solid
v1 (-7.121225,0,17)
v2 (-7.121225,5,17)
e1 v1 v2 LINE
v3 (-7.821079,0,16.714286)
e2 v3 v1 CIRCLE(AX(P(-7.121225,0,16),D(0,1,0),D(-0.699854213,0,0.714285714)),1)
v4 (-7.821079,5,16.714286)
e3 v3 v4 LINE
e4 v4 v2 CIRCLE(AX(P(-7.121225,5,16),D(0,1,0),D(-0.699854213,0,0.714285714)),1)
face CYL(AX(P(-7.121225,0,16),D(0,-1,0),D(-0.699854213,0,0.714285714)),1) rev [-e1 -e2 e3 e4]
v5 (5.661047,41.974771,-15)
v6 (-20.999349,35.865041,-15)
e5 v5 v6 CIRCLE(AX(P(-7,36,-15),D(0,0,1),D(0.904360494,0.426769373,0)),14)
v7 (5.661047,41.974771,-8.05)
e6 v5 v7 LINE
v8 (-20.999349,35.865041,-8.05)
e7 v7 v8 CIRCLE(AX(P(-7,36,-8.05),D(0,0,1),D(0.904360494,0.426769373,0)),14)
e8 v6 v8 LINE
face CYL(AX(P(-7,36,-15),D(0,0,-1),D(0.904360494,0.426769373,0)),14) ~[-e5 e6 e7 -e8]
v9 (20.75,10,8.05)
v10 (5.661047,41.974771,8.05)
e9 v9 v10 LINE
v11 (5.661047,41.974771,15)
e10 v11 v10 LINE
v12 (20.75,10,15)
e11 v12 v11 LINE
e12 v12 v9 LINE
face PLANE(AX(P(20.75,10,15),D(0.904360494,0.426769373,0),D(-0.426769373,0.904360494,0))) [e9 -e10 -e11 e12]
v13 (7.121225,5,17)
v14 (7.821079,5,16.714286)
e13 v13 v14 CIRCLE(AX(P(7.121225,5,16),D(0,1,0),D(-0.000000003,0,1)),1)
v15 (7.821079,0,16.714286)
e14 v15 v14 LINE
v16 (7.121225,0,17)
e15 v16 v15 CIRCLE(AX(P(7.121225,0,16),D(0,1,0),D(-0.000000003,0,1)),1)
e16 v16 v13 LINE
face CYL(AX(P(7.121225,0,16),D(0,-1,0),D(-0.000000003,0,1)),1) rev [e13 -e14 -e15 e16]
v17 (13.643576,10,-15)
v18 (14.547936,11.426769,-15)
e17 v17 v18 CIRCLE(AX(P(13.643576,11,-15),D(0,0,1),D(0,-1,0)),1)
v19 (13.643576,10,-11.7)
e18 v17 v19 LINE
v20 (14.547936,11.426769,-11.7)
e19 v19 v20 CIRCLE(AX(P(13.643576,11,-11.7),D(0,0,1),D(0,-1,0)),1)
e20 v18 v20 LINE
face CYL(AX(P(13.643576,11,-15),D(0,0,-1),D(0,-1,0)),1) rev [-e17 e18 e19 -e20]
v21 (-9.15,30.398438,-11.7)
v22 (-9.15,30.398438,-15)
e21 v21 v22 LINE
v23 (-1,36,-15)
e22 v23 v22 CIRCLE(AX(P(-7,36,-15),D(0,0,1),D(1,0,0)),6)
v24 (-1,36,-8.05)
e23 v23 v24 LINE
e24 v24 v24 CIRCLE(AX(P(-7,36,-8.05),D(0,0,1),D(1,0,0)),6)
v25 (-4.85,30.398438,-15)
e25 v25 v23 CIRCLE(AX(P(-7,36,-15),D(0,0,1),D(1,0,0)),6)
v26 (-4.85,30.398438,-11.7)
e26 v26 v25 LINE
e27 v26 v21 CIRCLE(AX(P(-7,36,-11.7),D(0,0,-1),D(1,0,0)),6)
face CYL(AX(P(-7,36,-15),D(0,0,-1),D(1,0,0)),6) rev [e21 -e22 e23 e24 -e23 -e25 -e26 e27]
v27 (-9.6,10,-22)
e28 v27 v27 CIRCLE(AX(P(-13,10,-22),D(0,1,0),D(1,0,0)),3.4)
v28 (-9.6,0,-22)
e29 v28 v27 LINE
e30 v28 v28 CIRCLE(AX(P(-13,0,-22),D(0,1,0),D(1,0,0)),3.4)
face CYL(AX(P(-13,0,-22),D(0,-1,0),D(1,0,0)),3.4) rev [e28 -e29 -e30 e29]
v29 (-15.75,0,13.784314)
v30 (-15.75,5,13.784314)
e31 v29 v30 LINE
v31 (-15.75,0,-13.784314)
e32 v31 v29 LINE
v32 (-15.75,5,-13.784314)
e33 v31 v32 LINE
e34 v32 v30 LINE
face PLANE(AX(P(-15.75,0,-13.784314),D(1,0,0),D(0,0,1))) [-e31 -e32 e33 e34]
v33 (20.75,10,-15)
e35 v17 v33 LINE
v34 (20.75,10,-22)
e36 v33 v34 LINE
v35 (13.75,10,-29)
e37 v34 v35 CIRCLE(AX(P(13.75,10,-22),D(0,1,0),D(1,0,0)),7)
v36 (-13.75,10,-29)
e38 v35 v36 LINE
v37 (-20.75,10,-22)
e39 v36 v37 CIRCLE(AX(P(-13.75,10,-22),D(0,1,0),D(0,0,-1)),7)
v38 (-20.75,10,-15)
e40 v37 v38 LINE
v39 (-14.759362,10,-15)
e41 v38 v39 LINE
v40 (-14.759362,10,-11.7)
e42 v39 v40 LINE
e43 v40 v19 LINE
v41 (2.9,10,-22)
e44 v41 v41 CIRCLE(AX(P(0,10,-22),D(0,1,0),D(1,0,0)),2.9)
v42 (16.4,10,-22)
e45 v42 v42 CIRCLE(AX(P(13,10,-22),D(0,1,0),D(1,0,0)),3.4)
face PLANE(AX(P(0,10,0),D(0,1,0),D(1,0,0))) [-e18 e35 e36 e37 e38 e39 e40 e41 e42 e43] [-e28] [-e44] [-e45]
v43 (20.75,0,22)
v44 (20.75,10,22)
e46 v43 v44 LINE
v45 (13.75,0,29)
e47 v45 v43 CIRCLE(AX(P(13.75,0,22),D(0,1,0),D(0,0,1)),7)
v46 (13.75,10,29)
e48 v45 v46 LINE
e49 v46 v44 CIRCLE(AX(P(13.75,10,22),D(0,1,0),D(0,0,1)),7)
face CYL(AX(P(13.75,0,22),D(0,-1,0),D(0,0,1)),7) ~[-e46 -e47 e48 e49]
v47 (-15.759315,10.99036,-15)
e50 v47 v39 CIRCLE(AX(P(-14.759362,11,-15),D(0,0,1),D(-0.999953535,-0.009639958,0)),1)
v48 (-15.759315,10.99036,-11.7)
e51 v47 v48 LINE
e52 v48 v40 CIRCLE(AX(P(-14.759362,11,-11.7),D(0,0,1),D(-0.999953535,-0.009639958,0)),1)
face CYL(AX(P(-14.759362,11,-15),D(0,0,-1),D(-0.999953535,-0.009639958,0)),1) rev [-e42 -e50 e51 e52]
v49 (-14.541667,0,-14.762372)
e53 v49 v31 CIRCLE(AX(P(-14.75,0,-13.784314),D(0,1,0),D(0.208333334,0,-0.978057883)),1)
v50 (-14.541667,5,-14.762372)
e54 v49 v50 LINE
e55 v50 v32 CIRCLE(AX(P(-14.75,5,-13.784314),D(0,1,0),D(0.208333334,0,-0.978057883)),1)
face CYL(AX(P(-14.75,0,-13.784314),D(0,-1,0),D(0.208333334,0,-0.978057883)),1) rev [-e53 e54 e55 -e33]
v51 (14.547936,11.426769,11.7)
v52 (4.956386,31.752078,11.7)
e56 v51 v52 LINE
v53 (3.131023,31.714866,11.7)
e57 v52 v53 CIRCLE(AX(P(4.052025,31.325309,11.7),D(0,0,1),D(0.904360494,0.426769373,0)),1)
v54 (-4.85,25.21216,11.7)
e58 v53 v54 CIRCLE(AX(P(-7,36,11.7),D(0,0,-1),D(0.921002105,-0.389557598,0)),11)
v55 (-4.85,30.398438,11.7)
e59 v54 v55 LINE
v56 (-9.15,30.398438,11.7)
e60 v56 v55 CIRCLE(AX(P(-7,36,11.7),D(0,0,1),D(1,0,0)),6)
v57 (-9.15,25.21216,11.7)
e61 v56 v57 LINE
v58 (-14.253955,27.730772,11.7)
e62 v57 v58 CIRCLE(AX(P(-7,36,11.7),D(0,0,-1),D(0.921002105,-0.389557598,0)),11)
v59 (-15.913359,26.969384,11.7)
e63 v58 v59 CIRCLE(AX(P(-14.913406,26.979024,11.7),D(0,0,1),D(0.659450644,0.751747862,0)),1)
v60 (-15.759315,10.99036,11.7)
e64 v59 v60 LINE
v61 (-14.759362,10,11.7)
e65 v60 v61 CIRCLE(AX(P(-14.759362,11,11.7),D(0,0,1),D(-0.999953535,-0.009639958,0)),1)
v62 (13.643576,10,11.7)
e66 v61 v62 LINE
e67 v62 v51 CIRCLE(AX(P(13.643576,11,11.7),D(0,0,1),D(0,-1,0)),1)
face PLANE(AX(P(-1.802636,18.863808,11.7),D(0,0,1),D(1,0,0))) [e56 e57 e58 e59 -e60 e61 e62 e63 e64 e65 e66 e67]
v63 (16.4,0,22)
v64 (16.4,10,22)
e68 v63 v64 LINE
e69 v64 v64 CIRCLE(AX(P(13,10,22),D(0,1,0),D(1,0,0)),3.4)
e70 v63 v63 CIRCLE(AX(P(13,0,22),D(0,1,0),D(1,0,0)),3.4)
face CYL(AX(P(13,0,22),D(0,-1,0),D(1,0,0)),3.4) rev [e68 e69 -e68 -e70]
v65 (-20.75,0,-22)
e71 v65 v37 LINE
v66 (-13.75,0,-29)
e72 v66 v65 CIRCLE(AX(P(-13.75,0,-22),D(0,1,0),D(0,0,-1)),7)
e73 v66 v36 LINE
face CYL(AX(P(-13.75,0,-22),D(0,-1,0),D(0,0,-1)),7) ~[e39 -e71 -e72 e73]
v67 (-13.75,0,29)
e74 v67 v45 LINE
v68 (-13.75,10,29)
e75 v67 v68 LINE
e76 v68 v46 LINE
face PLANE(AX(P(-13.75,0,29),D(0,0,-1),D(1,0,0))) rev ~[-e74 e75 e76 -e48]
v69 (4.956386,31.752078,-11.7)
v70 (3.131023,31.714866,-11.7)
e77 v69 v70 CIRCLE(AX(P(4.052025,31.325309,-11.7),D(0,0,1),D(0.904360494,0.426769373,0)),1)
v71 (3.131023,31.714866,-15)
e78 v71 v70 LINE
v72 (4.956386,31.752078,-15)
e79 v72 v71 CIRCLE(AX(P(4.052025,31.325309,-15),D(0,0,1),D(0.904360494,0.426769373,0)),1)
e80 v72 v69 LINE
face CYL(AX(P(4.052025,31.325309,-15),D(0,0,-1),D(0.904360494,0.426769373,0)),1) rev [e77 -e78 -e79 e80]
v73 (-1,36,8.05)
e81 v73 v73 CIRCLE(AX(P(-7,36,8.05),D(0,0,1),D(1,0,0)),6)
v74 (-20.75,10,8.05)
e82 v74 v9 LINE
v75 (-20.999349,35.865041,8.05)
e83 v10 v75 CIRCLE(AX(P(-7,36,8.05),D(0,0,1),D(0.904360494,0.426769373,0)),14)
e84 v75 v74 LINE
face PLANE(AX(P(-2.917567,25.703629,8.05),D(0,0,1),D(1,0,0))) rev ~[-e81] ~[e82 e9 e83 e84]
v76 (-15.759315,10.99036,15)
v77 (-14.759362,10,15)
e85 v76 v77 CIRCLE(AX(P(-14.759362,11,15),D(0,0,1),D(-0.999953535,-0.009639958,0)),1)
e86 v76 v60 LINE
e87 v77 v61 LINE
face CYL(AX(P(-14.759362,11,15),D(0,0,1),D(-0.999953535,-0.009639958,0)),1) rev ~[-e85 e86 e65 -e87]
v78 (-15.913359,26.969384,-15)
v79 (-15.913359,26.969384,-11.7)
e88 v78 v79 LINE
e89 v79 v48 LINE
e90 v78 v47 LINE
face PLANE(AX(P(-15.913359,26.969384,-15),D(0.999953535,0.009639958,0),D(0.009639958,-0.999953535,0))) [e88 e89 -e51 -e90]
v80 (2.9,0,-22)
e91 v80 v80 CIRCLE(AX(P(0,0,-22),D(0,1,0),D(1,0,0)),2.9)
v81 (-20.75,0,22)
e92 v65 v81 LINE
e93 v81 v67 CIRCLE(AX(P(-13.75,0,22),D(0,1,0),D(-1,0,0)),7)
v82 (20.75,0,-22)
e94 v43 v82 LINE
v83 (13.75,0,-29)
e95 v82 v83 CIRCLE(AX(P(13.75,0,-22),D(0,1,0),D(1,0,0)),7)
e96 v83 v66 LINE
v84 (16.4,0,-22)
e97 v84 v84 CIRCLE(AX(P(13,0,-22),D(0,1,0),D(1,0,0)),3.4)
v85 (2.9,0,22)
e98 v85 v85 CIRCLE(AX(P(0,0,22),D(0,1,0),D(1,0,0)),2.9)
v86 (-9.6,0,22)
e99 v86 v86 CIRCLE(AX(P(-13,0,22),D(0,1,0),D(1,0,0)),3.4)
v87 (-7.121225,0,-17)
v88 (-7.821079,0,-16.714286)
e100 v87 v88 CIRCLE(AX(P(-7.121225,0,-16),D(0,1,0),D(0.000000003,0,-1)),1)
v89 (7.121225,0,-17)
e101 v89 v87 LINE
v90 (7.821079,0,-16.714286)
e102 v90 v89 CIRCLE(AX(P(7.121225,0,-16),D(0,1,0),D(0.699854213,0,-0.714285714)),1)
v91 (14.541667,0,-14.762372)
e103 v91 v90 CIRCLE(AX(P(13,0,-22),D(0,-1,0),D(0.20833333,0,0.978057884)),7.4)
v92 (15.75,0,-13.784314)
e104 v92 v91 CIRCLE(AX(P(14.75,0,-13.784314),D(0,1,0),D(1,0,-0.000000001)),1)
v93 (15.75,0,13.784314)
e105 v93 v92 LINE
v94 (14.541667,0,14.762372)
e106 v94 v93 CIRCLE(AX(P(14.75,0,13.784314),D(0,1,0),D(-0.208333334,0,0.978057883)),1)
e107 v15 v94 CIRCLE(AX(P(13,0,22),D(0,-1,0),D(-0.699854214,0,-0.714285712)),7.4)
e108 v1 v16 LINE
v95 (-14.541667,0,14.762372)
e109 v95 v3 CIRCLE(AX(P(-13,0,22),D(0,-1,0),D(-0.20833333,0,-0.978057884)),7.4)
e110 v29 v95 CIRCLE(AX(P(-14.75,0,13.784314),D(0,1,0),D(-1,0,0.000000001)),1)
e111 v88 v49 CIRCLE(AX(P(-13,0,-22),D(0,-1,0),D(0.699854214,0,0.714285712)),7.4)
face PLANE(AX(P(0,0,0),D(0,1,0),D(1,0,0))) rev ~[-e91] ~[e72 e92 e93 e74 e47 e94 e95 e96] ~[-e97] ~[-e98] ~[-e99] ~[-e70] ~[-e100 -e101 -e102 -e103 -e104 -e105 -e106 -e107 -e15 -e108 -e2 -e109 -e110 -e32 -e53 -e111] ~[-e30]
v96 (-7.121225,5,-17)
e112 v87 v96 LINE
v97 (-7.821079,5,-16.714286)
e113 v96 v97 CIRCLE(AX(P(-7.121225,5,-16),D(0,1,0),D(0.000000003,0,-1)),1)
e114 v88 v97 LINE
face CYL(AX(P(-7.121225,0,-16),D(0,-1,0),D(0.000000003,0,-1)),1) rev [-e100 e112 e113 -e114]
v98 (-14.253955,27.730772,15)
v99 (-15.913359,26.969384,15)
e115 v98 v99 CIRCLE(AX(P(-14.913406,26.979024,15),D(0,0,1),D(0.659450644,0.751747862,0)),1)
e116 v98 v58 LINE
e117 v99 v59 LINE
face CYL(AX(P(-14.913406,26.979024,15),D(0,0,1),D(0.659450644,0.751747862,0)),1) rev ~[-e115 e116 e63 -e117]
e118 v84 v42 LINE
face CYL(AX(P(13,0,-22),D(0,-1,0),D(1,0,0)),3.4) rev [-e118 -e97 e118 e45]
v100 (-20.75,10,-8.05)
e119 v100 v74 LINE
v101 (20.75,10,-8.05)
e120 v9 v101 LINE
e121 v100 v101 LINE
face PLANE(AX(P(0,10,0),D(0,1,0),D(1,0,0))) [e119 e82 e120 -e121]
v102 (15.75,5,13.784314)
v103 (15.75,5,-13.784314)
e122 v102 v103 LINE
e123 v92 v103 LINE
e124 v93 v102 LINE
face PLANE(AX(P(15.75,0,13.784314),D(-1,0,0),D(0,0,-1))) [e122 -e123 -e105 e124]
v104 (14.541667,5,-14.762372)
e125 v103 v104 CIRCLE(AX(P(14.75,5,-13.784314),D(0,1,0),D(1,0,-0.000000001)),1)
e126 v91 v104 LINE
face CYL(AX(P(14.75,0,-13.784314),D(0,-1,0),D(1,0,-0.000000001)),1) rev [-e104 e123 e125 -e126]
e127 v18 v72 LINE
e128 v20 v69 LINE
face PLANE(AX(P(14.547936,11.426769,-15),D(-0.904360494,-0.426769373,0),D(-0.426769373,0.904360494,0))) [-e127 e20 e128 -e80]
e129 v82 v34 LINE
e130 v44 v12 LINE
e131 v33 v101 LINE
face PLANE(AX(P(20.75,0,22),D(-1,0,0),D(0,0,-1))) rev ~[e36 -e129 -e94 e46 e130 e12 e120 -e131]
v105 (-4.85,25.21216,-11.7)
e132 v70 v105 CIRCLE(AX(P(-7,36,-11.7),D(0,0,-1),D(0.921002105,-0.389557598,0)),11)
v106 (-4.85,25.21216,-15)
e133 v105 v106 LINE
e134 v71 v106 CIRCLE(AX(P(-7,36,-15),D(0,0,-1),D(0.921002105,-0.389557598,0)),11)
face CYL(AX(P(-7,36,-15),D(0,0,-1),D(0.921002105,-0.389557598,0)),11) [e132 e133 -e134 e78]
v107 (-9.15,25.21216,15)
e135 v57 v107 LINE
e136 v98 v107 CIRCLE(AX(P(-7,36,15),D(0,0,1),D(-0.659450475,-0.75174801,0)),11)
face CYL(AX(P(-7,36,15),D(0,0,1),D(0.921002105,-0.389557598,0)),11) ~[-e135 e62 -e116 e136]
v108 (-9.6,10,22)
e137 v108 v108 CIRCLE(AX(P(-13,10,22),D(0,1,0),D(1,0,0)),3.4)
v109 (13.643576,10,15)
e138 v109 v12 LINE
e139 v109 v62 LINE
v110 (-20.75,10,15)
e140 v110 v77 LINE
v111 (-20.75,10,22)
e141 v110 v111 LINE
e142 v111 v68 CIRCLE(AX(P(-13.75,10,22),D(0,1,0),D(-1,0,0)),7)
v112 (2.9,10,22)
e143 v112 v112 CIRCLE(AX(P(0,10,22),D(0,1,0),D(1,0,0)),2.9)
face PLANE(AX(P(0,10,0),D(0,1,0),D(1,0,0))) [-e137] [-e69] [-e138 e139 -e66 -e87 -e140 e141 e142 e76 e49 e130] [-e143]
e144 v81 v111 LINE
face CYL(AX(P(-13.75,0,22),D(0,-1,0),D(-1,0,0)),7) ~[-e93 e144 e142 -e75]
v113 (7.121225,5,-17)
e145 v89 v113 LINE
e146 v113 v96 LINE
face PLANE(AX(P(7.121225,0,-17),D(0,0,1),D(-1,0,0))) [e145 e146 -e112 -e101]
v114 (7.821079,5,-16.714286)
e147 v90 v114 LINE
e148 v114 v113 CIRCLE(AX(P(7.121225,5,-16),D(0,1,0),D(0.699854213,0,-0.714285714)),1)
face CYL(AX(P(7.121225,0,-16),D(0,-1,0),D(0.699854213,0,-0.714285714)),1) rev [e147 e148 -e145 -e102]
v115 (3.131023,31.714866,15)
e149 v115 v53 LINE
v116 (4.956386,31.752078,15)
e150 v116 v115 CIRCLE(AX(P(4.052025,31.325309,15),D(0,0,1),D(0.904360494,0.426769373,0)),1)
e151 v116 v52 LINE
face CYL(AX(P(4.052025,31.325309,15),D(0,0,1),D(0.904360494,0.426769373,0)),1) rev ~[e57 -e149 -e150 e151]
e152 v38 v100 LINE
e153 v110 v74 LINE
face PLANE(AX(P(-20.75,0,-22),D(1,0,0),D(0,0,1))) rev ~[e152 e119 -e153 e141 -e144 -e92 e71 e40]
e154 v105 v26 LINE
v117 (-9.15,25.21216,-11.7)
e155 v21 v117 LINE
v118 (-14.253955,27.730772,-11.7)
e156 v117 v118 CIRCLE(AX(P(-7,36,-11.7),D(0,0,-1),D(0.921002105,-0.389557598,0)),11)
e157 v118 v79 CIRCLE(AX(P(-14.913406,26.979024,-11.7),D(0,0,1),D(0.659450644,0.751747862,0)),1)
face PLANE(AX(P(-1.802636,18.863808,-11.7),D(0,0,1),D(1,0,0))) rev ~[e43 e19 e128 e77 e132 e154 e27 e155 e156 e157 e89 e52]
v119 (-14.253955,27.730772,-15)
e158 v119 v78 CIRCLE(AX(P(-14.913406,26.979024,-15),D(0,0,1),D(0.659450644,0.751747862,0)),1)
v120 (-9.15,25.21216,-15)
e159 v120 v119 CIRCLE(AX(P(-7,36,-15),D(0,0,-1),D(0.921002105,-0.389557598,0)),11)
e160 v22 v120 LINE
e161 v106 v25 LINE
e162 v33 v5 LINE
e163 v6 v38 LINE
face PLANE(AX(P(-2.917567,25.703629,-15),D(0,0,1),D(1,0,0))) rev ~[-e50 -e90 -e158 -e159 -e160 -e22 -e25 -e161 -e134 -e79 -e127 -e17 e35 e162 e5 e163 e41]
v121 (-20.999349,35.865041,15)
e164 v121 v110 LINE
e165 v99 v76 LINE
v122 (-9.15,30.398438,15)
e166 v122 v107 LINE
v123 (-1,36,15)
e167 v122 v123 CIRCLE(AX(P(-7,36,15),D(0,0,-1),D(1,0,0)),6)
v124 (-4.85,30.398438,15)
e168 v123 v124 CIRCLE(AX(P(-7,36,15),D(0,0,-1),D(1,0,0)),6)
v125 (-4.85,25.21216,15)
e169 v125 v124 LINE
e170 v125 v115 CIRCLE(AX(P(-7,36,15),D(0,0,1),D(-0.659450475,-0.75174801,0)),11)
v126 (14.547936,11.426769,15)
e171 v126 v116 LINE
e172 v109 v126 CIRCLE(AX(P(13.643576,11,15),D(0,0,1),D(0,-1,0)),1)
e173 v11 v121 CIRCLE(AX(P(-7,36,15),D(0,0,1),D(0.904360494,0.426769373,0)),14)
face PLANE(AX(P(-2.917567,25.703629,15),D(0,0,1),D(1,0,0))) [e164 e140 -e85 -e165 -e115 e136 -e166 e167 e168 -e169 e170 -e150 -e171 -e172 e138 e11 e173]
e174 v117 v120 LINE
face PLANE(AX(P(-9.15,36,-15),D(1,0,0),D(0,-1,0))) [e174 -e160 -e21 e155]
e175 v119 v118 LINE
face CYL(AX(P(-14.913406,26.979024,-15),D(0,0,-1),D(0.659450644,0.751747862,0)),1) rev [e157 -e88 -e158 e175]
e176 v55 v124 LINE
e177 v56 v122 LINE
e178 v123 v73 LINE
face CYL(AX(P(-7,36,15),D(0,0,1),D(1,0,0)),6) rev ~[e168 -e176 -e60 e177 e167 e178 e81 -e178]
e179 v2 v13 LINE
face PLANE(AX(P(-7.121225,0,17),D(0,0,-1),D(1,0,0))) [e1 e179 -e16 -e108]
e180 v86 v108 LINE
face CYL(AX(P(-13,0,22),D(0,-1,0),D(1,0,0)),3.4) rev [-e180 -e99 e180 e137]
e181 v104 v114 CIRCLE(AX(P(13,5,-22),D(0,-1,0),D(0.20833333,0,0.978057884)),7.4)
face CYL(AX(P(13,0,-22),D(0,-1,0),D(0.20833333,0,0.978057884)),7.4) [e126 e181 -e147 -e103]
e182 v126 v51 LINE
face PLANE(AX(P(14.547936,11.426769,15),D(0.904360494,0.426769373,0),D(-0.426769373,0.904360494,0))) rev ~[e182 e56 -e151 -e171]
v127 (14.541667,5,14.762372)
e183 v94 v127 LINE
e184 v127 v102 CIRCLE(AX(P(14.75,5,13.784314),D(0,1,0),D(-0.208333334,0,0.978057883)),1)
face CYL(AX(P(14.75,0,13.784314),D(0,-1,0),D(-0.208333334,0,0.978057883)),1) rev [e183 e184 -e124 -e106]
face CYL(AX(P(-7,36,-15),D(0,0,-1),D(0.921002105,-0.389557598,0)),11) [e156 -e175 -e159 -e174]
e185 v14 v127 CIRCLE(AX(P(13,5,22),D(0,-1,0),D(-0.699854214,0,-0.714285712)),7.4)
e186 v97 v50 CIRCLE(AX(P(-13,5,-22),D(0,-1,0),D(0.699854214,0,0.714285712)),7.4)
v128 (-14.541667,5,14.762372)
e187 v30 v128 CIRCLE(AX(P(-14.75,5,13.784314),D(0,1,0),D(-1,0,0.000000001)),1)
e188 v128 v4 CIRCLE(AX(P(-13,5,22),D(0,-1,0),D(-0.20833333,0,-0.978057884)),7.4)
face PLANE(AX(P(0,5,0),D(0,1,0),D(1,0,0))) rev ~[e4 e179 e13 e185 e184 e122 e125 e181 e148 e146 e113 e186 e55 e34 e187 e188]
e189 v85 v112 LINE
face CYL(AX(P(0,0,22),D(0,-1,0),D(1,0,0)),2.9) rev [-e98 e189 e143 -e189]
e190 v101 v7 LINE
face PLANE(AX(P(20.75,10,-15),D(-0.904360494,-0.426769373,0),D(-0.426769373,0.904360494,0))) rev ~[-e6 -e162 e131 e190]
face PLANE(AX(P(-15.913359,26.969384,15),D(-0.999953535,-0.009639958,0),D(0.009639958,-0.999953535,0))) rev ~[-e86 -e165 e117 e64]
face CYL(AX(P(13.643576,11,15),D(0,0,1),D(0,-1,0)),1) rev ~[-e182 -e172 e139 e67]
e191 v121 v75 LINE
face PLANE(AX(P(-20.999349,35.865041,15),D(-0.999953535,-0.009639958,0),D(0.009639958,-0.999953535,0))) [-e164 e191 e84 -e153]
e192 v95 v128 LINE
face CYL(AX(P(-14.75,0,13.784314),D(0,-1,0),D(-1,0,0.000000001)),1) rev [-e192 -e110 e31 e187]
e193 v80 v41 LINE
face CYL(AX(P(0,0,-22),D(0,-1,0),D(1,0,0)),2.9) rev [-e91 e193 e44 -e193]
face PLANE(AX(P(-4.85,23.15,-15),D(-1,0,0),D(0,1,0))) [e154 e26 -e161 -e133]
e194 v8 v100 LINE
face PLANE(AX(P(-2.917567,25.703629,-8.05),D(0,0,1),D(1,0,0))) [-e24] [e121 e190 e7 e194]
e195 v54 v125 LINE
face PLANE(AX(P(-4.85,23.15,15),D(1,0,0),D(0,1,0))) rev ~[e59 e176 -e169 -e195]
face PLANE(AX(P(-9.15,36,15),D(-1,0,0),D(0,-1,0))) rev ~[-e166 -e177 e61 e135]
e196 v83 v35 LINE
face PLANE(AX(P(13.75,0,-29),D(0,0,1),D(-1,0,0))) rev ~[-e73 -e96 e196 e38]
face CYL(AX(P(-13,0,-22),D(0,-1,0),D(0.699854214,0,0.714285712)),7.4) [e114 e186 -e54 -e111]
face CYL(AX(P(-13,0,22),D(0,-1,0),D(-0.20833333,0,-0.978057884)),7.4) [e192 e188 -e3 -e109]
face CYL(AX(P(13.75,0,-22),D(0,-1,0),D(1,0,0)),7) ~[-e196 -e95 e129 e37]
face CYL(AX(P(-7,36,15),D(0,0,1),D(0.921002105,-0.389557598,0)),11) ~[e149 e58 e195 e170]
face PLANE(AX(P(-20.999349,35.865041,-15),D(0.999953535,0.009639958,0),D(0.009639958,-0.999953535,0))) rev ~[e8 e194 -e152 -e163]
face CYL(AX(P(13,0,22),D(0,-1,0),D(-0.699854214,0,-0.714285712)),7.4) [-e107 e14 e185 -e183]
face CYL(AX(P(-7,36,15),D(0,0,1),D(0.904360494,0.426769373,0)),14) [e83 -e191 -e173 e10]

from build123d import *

# Parameters (mm, degrees)
SKETCH1_R               = 3.4
SKETCH1_R_2             = 2.9
BOSS_EXTRUDE1_DEPTH     = 10
CUT_EXTRUDE1_DEPTH      = 5
SKETCH3_R               = 6
BOSS_EXTRUDE2_DEPTH     = 6.95
CUT_EXTRUDE2_DEPTH      = 3.3
SKETCH5_R               = 6
BOSS_EXTRUDE3_DEPTH     = 6.95
CUT_EXTRUDE3_DEPTH      = 3.3
CUT_EXTRUDE4_DEPTH      = 3.3
CUT_EXTRUDE4_DEPTH_BACK = 3.3
CUT_EXTRUDE5_DEPTH      = 3.3
CUT_EXTRUDE5_DEPTH_BACK = 3.3


with BuildPart() as part:
    # Sketch1 → Boss-Extrude1 (new body)
    with BuildSketch(Plane(origin=(0, 0, 0), x_dir=(1, 0, 0), z_dir=(0, 1, 0))):
        with BuildLine():
            Line((-13.75, -29), (13.75, -29))
            ThreePointArc((13.75, -29), (18.699747468, -26.949747468), (20.75, -22))
            Line((20.75, -22), (20.75, 22))
            ThreePointArc((20.75, 22), (18.699747468, 26.949747468), (13.75, 29))
            Line((13.75, 29), (-13.75, 29))
            ThreePointArc((-13.75, 29), (-18.699747468, 26.949747468), (-20.75, 22))
            Line((-20.75, 22), (-20.75, -22))
            ThreePointArc((-20.75, -22), (-18.699747468, -26.949747468), (-13.75, -29))
        make_face()
        with Locations((13, 22)):
            Circle(SKETCH1_R, mode=Mode.SUBTRACT)
        with Locations((13, -22)):
            Circle(SKETCH1_R, mode=Mode.SUBTRACT)
        with Locations((0, 22)):
            Circle(SKETCH1_R_2, mode=Mode.SUBTRACT)
        with Locations((0, -22)):
            Circle(SKETCH1_R_2, mode=Mode.SUBTRACT)
        with Locations((-13, 22)):
            Circle(SKETCH1_R, mode=Mode.SUBTRACT)
        with Locations((-13, -22)):
            Circle(SKETCH1_R, mode=Mode.SUBTRACT)
    extrude(amount=BOSS_EXTRUDE1_DEPTH)

    # Sketch2 → Cut-Extrude1 (cut)
    with BuildSketch(Plane(origin=(0, 0, 0), x_dir=(1, 0, 0), z_dir=(0, 1, 0))):
        with BuildLine():
            Line((-7.121224617, -17), (7.121224617, -17))
            ThreePointArc((7.121224617, -17), (7.499189081, -16.925820104), (7.821078814, -16.714285729))
            ThreePointArc((7.821078814, -16.714285729), (10.936048151, -14.893657568), (14.541666667, -14.762371667))
            ThreePointArc((14.541666667, -14.762371667), (15.37915287, -14.561595372), (15.75, -13.784313784))
            Line((15.75, -13.784313784), (15.75, 13.784313784))
            ThreePointArc((15.75, 13.784313784), (15.379152861, 14.561595378), (14.541666646, 14.762371662))
            ThreePointArc((14.541666646, 14.762371662), (10.936048151, 14.893657568), (7.82107883, 16.714285714))
            ThreePointArc((7.82107883, 16.714285714), (7.49918909, 16.9258201), (7.121224617, 17))
            Line((7.121224617, 17), (-7.121224617, 17))
            ThreePointArc((-7.121224617, 17), (-7.499189081, 16.925820104), (-7.821078814, 16.714285729))
            ThreePointArc((-7.821078814, 16.714285729), (-10.936048151, 14.893657568), (-14.541666667, 14.762371667))
            ThreePointArc((-14.541666667, 14.762371667), (-15.37915287, 14.561595372), (-15.75, 13.784313784))
            Line((-15.75, 13.784313784), (-15.75, -13.784313784))
            ThreePointArc((-15.75, -13.784313784), (-15.379152861, -14.561595378), (-14.541666646, -14.762371662))
            ThreePointArc((-14.541666646, -14.762371662), (-10.936048151, -14.893657568), (-7.82107883, -16.714285714))
            ThreePointArc((-7.82107883, -16.714285714), (-7.49918909, -16.9258201), (-7.121224617, -17))
        make_face()
    extrude(amount=CUT_EXTRUDE1_DEPTH, mode=Mode.SUBTRACT)

    # Sketch3 → Boss-Extrude2 (add)
    with BuildSketch(Plane.XY.offset(15)):
        with BuildLine():
            Line((-20.999349483, 35.865040592), (-20.75, 10))
            Line((-20.75, 10), (20.75, 10))
            Line((20.75, 10), (5.66104691, 41.974771221))
            ThreePointArc((5.66104691, 41.974771221), (-10.127293644, 49.646246168), (-20.999349483, 35.865040592))
        make_face()
        with Locations((-7, 36)):
            Circle(SKETCH3_R, mode=Mode.SUBTRACT)
    extrude(amount=-BOSS_EXTRUDE2_DEPTH)

    # Sketch4 → Cut-Extrude2 (cut)
    with BuildSketch(Plane.XY.offset(15)):
        with BuildLine():
            Line((-15.913359408, 26.969384071), (-15.759315134, 10.990360042))
            ThreePointArc((-15.759315134, 10.990360042), (-15.463051888, 10.289493154), (-14.7593616, 10))
            Line((-14.7593616, 10), (13.643575716, 10))
            ThreePointArc((13.643575716, 10), (14.488196747, 10.464635345), (14.54793621, 11.426769373))
            Line((14.54793621, 11.426769373), (4.956385757, 31.752078197))
            ThreePointArc((4.956385757, 31.752078197), (4.031643534, 32.325101095), (3.131023158, 31.714866422))
            ThreePointArc((3.131023158, 31.714866422), (-4.542840608, 25.277949463), (-14.253955229, 27.73077189))
            ThreePointArc((-14.253955229, 27.73077189), (-15.330435138, 27.887917087), (-15.913359408, 26.969384071))
        make_face()
    extrude(amount=-CUT_EXTRUDE2_DEPTH, mode=Mode.SUBTRACT)

    # Sketch5 → Boss-Extrude3 (add)
    with BuildSketch(Plane.XY.offset(-15)):
        with BuildLine():
            Line((-20.999349483, 35.865040592), (-20.75, 10))
            Line((-20.75, 10), (20.75, 10))
            Line((20.75, 10), (5.66104691, 41.974771221))
            ThreePointArc((5.66104691, 41.974771221), (-10.127293644, 49.646246168), (-20.999349483, 35.865040592))
        make_face()
        with Locations((-7, 36)):
            Circle(SKETCH5_R, mode=Mode.SUBTRACT)
    extrude(amount=BOSS_EXTRUDE3_DEPTH)

    # Sketch6 → Cut-Extrude3 (cut)
    with BuildSketch(Plane.XY.offset(-15)):
        with BuildLine():
            Line((-15.913359408, 26.969384071), (-15.759315134, 10.990360042))
            ThreePointArc((-15.759315134, 10.990360042), (-15.463051888, 10.289493154), (-14.7593616, 10))
            Line((-14.7593616, 10), (13.643575716, 10))
            ThreePointArc((13.643575716, 10), (14.488196747, 10.464635345), (14.54793621, 11.426769373))
            Line((14.54793621, 11.426769373), (4.956385757, 31.752078197))
            ThreePointArc((4.956385757, 31.752078197), (4.031643534, 32.325101095), (3.131023158, 31.714866422))
            ThreePointArc((3.131023158, 31.714866422), (-4.542840608, 25.277949463), (-14.253955229, 27.73077189))
            ThreePointArc((-14.253955229, 27.73077189), (-15.330435138, 27.887917087), (-15.913359408, 26.969384071))
        make_face()
    extrude(amount=CUT_EXTRUDE3_DEPTH, mode=Mode.SUBTRACT)

    # Sketch7 → Cut-Extrude4 (cut, two sides)
    with BuildSketch(Plane.XY.offset(15)) as cut_extrude4_sk:
        with BuildLine():
            Line((-4.85, 23.15), (-4.85, 36))
            Line((-4.85, 36), (-9.15, 36))
            Line((-9.15, 36), (-9.15, 23.15))
            ThreePointArc((-9.15, 23.15), (-7, 21), (-4.85, 23.15))
        make_face()
    extrude(amount=CUT_EXTRUDE4_DEPTH, mode=Mode.SUBTRACT)
    extrude(cut_extrude4_sk.sketch, amount=-CUT_EXTRUDE4_DEPTH_BACK, mode=Mode.SUBTRACT)

    # Sketch8 → Cut-Extrude5 (cut, two sides)
    with BuildSketch(Plane.XY.offset(-15)) as cut_extrude5_sk:
        with BuildLine():
            Line((-4.85, 23.15), (-4.85, 36))
            Line((-4.85, 36), (-9.15, 36))
            Line((-9.15, 36), (-9.15, 23.15))
            ThreePointArc((-9.15, 23.15), (-7, 21), (-4.85, 23.15))
        make_face()
    extrude(amount=CUT_EXTRUDE5_DEPTH, mode=Mode.SUBTRACT)
    extrude(cut_extrude5_sk.sketch, amount=-CUT_EXTRUDE5_DEPTH_BACK, mode=Mode.SUBTRACT)


solid = part.part
